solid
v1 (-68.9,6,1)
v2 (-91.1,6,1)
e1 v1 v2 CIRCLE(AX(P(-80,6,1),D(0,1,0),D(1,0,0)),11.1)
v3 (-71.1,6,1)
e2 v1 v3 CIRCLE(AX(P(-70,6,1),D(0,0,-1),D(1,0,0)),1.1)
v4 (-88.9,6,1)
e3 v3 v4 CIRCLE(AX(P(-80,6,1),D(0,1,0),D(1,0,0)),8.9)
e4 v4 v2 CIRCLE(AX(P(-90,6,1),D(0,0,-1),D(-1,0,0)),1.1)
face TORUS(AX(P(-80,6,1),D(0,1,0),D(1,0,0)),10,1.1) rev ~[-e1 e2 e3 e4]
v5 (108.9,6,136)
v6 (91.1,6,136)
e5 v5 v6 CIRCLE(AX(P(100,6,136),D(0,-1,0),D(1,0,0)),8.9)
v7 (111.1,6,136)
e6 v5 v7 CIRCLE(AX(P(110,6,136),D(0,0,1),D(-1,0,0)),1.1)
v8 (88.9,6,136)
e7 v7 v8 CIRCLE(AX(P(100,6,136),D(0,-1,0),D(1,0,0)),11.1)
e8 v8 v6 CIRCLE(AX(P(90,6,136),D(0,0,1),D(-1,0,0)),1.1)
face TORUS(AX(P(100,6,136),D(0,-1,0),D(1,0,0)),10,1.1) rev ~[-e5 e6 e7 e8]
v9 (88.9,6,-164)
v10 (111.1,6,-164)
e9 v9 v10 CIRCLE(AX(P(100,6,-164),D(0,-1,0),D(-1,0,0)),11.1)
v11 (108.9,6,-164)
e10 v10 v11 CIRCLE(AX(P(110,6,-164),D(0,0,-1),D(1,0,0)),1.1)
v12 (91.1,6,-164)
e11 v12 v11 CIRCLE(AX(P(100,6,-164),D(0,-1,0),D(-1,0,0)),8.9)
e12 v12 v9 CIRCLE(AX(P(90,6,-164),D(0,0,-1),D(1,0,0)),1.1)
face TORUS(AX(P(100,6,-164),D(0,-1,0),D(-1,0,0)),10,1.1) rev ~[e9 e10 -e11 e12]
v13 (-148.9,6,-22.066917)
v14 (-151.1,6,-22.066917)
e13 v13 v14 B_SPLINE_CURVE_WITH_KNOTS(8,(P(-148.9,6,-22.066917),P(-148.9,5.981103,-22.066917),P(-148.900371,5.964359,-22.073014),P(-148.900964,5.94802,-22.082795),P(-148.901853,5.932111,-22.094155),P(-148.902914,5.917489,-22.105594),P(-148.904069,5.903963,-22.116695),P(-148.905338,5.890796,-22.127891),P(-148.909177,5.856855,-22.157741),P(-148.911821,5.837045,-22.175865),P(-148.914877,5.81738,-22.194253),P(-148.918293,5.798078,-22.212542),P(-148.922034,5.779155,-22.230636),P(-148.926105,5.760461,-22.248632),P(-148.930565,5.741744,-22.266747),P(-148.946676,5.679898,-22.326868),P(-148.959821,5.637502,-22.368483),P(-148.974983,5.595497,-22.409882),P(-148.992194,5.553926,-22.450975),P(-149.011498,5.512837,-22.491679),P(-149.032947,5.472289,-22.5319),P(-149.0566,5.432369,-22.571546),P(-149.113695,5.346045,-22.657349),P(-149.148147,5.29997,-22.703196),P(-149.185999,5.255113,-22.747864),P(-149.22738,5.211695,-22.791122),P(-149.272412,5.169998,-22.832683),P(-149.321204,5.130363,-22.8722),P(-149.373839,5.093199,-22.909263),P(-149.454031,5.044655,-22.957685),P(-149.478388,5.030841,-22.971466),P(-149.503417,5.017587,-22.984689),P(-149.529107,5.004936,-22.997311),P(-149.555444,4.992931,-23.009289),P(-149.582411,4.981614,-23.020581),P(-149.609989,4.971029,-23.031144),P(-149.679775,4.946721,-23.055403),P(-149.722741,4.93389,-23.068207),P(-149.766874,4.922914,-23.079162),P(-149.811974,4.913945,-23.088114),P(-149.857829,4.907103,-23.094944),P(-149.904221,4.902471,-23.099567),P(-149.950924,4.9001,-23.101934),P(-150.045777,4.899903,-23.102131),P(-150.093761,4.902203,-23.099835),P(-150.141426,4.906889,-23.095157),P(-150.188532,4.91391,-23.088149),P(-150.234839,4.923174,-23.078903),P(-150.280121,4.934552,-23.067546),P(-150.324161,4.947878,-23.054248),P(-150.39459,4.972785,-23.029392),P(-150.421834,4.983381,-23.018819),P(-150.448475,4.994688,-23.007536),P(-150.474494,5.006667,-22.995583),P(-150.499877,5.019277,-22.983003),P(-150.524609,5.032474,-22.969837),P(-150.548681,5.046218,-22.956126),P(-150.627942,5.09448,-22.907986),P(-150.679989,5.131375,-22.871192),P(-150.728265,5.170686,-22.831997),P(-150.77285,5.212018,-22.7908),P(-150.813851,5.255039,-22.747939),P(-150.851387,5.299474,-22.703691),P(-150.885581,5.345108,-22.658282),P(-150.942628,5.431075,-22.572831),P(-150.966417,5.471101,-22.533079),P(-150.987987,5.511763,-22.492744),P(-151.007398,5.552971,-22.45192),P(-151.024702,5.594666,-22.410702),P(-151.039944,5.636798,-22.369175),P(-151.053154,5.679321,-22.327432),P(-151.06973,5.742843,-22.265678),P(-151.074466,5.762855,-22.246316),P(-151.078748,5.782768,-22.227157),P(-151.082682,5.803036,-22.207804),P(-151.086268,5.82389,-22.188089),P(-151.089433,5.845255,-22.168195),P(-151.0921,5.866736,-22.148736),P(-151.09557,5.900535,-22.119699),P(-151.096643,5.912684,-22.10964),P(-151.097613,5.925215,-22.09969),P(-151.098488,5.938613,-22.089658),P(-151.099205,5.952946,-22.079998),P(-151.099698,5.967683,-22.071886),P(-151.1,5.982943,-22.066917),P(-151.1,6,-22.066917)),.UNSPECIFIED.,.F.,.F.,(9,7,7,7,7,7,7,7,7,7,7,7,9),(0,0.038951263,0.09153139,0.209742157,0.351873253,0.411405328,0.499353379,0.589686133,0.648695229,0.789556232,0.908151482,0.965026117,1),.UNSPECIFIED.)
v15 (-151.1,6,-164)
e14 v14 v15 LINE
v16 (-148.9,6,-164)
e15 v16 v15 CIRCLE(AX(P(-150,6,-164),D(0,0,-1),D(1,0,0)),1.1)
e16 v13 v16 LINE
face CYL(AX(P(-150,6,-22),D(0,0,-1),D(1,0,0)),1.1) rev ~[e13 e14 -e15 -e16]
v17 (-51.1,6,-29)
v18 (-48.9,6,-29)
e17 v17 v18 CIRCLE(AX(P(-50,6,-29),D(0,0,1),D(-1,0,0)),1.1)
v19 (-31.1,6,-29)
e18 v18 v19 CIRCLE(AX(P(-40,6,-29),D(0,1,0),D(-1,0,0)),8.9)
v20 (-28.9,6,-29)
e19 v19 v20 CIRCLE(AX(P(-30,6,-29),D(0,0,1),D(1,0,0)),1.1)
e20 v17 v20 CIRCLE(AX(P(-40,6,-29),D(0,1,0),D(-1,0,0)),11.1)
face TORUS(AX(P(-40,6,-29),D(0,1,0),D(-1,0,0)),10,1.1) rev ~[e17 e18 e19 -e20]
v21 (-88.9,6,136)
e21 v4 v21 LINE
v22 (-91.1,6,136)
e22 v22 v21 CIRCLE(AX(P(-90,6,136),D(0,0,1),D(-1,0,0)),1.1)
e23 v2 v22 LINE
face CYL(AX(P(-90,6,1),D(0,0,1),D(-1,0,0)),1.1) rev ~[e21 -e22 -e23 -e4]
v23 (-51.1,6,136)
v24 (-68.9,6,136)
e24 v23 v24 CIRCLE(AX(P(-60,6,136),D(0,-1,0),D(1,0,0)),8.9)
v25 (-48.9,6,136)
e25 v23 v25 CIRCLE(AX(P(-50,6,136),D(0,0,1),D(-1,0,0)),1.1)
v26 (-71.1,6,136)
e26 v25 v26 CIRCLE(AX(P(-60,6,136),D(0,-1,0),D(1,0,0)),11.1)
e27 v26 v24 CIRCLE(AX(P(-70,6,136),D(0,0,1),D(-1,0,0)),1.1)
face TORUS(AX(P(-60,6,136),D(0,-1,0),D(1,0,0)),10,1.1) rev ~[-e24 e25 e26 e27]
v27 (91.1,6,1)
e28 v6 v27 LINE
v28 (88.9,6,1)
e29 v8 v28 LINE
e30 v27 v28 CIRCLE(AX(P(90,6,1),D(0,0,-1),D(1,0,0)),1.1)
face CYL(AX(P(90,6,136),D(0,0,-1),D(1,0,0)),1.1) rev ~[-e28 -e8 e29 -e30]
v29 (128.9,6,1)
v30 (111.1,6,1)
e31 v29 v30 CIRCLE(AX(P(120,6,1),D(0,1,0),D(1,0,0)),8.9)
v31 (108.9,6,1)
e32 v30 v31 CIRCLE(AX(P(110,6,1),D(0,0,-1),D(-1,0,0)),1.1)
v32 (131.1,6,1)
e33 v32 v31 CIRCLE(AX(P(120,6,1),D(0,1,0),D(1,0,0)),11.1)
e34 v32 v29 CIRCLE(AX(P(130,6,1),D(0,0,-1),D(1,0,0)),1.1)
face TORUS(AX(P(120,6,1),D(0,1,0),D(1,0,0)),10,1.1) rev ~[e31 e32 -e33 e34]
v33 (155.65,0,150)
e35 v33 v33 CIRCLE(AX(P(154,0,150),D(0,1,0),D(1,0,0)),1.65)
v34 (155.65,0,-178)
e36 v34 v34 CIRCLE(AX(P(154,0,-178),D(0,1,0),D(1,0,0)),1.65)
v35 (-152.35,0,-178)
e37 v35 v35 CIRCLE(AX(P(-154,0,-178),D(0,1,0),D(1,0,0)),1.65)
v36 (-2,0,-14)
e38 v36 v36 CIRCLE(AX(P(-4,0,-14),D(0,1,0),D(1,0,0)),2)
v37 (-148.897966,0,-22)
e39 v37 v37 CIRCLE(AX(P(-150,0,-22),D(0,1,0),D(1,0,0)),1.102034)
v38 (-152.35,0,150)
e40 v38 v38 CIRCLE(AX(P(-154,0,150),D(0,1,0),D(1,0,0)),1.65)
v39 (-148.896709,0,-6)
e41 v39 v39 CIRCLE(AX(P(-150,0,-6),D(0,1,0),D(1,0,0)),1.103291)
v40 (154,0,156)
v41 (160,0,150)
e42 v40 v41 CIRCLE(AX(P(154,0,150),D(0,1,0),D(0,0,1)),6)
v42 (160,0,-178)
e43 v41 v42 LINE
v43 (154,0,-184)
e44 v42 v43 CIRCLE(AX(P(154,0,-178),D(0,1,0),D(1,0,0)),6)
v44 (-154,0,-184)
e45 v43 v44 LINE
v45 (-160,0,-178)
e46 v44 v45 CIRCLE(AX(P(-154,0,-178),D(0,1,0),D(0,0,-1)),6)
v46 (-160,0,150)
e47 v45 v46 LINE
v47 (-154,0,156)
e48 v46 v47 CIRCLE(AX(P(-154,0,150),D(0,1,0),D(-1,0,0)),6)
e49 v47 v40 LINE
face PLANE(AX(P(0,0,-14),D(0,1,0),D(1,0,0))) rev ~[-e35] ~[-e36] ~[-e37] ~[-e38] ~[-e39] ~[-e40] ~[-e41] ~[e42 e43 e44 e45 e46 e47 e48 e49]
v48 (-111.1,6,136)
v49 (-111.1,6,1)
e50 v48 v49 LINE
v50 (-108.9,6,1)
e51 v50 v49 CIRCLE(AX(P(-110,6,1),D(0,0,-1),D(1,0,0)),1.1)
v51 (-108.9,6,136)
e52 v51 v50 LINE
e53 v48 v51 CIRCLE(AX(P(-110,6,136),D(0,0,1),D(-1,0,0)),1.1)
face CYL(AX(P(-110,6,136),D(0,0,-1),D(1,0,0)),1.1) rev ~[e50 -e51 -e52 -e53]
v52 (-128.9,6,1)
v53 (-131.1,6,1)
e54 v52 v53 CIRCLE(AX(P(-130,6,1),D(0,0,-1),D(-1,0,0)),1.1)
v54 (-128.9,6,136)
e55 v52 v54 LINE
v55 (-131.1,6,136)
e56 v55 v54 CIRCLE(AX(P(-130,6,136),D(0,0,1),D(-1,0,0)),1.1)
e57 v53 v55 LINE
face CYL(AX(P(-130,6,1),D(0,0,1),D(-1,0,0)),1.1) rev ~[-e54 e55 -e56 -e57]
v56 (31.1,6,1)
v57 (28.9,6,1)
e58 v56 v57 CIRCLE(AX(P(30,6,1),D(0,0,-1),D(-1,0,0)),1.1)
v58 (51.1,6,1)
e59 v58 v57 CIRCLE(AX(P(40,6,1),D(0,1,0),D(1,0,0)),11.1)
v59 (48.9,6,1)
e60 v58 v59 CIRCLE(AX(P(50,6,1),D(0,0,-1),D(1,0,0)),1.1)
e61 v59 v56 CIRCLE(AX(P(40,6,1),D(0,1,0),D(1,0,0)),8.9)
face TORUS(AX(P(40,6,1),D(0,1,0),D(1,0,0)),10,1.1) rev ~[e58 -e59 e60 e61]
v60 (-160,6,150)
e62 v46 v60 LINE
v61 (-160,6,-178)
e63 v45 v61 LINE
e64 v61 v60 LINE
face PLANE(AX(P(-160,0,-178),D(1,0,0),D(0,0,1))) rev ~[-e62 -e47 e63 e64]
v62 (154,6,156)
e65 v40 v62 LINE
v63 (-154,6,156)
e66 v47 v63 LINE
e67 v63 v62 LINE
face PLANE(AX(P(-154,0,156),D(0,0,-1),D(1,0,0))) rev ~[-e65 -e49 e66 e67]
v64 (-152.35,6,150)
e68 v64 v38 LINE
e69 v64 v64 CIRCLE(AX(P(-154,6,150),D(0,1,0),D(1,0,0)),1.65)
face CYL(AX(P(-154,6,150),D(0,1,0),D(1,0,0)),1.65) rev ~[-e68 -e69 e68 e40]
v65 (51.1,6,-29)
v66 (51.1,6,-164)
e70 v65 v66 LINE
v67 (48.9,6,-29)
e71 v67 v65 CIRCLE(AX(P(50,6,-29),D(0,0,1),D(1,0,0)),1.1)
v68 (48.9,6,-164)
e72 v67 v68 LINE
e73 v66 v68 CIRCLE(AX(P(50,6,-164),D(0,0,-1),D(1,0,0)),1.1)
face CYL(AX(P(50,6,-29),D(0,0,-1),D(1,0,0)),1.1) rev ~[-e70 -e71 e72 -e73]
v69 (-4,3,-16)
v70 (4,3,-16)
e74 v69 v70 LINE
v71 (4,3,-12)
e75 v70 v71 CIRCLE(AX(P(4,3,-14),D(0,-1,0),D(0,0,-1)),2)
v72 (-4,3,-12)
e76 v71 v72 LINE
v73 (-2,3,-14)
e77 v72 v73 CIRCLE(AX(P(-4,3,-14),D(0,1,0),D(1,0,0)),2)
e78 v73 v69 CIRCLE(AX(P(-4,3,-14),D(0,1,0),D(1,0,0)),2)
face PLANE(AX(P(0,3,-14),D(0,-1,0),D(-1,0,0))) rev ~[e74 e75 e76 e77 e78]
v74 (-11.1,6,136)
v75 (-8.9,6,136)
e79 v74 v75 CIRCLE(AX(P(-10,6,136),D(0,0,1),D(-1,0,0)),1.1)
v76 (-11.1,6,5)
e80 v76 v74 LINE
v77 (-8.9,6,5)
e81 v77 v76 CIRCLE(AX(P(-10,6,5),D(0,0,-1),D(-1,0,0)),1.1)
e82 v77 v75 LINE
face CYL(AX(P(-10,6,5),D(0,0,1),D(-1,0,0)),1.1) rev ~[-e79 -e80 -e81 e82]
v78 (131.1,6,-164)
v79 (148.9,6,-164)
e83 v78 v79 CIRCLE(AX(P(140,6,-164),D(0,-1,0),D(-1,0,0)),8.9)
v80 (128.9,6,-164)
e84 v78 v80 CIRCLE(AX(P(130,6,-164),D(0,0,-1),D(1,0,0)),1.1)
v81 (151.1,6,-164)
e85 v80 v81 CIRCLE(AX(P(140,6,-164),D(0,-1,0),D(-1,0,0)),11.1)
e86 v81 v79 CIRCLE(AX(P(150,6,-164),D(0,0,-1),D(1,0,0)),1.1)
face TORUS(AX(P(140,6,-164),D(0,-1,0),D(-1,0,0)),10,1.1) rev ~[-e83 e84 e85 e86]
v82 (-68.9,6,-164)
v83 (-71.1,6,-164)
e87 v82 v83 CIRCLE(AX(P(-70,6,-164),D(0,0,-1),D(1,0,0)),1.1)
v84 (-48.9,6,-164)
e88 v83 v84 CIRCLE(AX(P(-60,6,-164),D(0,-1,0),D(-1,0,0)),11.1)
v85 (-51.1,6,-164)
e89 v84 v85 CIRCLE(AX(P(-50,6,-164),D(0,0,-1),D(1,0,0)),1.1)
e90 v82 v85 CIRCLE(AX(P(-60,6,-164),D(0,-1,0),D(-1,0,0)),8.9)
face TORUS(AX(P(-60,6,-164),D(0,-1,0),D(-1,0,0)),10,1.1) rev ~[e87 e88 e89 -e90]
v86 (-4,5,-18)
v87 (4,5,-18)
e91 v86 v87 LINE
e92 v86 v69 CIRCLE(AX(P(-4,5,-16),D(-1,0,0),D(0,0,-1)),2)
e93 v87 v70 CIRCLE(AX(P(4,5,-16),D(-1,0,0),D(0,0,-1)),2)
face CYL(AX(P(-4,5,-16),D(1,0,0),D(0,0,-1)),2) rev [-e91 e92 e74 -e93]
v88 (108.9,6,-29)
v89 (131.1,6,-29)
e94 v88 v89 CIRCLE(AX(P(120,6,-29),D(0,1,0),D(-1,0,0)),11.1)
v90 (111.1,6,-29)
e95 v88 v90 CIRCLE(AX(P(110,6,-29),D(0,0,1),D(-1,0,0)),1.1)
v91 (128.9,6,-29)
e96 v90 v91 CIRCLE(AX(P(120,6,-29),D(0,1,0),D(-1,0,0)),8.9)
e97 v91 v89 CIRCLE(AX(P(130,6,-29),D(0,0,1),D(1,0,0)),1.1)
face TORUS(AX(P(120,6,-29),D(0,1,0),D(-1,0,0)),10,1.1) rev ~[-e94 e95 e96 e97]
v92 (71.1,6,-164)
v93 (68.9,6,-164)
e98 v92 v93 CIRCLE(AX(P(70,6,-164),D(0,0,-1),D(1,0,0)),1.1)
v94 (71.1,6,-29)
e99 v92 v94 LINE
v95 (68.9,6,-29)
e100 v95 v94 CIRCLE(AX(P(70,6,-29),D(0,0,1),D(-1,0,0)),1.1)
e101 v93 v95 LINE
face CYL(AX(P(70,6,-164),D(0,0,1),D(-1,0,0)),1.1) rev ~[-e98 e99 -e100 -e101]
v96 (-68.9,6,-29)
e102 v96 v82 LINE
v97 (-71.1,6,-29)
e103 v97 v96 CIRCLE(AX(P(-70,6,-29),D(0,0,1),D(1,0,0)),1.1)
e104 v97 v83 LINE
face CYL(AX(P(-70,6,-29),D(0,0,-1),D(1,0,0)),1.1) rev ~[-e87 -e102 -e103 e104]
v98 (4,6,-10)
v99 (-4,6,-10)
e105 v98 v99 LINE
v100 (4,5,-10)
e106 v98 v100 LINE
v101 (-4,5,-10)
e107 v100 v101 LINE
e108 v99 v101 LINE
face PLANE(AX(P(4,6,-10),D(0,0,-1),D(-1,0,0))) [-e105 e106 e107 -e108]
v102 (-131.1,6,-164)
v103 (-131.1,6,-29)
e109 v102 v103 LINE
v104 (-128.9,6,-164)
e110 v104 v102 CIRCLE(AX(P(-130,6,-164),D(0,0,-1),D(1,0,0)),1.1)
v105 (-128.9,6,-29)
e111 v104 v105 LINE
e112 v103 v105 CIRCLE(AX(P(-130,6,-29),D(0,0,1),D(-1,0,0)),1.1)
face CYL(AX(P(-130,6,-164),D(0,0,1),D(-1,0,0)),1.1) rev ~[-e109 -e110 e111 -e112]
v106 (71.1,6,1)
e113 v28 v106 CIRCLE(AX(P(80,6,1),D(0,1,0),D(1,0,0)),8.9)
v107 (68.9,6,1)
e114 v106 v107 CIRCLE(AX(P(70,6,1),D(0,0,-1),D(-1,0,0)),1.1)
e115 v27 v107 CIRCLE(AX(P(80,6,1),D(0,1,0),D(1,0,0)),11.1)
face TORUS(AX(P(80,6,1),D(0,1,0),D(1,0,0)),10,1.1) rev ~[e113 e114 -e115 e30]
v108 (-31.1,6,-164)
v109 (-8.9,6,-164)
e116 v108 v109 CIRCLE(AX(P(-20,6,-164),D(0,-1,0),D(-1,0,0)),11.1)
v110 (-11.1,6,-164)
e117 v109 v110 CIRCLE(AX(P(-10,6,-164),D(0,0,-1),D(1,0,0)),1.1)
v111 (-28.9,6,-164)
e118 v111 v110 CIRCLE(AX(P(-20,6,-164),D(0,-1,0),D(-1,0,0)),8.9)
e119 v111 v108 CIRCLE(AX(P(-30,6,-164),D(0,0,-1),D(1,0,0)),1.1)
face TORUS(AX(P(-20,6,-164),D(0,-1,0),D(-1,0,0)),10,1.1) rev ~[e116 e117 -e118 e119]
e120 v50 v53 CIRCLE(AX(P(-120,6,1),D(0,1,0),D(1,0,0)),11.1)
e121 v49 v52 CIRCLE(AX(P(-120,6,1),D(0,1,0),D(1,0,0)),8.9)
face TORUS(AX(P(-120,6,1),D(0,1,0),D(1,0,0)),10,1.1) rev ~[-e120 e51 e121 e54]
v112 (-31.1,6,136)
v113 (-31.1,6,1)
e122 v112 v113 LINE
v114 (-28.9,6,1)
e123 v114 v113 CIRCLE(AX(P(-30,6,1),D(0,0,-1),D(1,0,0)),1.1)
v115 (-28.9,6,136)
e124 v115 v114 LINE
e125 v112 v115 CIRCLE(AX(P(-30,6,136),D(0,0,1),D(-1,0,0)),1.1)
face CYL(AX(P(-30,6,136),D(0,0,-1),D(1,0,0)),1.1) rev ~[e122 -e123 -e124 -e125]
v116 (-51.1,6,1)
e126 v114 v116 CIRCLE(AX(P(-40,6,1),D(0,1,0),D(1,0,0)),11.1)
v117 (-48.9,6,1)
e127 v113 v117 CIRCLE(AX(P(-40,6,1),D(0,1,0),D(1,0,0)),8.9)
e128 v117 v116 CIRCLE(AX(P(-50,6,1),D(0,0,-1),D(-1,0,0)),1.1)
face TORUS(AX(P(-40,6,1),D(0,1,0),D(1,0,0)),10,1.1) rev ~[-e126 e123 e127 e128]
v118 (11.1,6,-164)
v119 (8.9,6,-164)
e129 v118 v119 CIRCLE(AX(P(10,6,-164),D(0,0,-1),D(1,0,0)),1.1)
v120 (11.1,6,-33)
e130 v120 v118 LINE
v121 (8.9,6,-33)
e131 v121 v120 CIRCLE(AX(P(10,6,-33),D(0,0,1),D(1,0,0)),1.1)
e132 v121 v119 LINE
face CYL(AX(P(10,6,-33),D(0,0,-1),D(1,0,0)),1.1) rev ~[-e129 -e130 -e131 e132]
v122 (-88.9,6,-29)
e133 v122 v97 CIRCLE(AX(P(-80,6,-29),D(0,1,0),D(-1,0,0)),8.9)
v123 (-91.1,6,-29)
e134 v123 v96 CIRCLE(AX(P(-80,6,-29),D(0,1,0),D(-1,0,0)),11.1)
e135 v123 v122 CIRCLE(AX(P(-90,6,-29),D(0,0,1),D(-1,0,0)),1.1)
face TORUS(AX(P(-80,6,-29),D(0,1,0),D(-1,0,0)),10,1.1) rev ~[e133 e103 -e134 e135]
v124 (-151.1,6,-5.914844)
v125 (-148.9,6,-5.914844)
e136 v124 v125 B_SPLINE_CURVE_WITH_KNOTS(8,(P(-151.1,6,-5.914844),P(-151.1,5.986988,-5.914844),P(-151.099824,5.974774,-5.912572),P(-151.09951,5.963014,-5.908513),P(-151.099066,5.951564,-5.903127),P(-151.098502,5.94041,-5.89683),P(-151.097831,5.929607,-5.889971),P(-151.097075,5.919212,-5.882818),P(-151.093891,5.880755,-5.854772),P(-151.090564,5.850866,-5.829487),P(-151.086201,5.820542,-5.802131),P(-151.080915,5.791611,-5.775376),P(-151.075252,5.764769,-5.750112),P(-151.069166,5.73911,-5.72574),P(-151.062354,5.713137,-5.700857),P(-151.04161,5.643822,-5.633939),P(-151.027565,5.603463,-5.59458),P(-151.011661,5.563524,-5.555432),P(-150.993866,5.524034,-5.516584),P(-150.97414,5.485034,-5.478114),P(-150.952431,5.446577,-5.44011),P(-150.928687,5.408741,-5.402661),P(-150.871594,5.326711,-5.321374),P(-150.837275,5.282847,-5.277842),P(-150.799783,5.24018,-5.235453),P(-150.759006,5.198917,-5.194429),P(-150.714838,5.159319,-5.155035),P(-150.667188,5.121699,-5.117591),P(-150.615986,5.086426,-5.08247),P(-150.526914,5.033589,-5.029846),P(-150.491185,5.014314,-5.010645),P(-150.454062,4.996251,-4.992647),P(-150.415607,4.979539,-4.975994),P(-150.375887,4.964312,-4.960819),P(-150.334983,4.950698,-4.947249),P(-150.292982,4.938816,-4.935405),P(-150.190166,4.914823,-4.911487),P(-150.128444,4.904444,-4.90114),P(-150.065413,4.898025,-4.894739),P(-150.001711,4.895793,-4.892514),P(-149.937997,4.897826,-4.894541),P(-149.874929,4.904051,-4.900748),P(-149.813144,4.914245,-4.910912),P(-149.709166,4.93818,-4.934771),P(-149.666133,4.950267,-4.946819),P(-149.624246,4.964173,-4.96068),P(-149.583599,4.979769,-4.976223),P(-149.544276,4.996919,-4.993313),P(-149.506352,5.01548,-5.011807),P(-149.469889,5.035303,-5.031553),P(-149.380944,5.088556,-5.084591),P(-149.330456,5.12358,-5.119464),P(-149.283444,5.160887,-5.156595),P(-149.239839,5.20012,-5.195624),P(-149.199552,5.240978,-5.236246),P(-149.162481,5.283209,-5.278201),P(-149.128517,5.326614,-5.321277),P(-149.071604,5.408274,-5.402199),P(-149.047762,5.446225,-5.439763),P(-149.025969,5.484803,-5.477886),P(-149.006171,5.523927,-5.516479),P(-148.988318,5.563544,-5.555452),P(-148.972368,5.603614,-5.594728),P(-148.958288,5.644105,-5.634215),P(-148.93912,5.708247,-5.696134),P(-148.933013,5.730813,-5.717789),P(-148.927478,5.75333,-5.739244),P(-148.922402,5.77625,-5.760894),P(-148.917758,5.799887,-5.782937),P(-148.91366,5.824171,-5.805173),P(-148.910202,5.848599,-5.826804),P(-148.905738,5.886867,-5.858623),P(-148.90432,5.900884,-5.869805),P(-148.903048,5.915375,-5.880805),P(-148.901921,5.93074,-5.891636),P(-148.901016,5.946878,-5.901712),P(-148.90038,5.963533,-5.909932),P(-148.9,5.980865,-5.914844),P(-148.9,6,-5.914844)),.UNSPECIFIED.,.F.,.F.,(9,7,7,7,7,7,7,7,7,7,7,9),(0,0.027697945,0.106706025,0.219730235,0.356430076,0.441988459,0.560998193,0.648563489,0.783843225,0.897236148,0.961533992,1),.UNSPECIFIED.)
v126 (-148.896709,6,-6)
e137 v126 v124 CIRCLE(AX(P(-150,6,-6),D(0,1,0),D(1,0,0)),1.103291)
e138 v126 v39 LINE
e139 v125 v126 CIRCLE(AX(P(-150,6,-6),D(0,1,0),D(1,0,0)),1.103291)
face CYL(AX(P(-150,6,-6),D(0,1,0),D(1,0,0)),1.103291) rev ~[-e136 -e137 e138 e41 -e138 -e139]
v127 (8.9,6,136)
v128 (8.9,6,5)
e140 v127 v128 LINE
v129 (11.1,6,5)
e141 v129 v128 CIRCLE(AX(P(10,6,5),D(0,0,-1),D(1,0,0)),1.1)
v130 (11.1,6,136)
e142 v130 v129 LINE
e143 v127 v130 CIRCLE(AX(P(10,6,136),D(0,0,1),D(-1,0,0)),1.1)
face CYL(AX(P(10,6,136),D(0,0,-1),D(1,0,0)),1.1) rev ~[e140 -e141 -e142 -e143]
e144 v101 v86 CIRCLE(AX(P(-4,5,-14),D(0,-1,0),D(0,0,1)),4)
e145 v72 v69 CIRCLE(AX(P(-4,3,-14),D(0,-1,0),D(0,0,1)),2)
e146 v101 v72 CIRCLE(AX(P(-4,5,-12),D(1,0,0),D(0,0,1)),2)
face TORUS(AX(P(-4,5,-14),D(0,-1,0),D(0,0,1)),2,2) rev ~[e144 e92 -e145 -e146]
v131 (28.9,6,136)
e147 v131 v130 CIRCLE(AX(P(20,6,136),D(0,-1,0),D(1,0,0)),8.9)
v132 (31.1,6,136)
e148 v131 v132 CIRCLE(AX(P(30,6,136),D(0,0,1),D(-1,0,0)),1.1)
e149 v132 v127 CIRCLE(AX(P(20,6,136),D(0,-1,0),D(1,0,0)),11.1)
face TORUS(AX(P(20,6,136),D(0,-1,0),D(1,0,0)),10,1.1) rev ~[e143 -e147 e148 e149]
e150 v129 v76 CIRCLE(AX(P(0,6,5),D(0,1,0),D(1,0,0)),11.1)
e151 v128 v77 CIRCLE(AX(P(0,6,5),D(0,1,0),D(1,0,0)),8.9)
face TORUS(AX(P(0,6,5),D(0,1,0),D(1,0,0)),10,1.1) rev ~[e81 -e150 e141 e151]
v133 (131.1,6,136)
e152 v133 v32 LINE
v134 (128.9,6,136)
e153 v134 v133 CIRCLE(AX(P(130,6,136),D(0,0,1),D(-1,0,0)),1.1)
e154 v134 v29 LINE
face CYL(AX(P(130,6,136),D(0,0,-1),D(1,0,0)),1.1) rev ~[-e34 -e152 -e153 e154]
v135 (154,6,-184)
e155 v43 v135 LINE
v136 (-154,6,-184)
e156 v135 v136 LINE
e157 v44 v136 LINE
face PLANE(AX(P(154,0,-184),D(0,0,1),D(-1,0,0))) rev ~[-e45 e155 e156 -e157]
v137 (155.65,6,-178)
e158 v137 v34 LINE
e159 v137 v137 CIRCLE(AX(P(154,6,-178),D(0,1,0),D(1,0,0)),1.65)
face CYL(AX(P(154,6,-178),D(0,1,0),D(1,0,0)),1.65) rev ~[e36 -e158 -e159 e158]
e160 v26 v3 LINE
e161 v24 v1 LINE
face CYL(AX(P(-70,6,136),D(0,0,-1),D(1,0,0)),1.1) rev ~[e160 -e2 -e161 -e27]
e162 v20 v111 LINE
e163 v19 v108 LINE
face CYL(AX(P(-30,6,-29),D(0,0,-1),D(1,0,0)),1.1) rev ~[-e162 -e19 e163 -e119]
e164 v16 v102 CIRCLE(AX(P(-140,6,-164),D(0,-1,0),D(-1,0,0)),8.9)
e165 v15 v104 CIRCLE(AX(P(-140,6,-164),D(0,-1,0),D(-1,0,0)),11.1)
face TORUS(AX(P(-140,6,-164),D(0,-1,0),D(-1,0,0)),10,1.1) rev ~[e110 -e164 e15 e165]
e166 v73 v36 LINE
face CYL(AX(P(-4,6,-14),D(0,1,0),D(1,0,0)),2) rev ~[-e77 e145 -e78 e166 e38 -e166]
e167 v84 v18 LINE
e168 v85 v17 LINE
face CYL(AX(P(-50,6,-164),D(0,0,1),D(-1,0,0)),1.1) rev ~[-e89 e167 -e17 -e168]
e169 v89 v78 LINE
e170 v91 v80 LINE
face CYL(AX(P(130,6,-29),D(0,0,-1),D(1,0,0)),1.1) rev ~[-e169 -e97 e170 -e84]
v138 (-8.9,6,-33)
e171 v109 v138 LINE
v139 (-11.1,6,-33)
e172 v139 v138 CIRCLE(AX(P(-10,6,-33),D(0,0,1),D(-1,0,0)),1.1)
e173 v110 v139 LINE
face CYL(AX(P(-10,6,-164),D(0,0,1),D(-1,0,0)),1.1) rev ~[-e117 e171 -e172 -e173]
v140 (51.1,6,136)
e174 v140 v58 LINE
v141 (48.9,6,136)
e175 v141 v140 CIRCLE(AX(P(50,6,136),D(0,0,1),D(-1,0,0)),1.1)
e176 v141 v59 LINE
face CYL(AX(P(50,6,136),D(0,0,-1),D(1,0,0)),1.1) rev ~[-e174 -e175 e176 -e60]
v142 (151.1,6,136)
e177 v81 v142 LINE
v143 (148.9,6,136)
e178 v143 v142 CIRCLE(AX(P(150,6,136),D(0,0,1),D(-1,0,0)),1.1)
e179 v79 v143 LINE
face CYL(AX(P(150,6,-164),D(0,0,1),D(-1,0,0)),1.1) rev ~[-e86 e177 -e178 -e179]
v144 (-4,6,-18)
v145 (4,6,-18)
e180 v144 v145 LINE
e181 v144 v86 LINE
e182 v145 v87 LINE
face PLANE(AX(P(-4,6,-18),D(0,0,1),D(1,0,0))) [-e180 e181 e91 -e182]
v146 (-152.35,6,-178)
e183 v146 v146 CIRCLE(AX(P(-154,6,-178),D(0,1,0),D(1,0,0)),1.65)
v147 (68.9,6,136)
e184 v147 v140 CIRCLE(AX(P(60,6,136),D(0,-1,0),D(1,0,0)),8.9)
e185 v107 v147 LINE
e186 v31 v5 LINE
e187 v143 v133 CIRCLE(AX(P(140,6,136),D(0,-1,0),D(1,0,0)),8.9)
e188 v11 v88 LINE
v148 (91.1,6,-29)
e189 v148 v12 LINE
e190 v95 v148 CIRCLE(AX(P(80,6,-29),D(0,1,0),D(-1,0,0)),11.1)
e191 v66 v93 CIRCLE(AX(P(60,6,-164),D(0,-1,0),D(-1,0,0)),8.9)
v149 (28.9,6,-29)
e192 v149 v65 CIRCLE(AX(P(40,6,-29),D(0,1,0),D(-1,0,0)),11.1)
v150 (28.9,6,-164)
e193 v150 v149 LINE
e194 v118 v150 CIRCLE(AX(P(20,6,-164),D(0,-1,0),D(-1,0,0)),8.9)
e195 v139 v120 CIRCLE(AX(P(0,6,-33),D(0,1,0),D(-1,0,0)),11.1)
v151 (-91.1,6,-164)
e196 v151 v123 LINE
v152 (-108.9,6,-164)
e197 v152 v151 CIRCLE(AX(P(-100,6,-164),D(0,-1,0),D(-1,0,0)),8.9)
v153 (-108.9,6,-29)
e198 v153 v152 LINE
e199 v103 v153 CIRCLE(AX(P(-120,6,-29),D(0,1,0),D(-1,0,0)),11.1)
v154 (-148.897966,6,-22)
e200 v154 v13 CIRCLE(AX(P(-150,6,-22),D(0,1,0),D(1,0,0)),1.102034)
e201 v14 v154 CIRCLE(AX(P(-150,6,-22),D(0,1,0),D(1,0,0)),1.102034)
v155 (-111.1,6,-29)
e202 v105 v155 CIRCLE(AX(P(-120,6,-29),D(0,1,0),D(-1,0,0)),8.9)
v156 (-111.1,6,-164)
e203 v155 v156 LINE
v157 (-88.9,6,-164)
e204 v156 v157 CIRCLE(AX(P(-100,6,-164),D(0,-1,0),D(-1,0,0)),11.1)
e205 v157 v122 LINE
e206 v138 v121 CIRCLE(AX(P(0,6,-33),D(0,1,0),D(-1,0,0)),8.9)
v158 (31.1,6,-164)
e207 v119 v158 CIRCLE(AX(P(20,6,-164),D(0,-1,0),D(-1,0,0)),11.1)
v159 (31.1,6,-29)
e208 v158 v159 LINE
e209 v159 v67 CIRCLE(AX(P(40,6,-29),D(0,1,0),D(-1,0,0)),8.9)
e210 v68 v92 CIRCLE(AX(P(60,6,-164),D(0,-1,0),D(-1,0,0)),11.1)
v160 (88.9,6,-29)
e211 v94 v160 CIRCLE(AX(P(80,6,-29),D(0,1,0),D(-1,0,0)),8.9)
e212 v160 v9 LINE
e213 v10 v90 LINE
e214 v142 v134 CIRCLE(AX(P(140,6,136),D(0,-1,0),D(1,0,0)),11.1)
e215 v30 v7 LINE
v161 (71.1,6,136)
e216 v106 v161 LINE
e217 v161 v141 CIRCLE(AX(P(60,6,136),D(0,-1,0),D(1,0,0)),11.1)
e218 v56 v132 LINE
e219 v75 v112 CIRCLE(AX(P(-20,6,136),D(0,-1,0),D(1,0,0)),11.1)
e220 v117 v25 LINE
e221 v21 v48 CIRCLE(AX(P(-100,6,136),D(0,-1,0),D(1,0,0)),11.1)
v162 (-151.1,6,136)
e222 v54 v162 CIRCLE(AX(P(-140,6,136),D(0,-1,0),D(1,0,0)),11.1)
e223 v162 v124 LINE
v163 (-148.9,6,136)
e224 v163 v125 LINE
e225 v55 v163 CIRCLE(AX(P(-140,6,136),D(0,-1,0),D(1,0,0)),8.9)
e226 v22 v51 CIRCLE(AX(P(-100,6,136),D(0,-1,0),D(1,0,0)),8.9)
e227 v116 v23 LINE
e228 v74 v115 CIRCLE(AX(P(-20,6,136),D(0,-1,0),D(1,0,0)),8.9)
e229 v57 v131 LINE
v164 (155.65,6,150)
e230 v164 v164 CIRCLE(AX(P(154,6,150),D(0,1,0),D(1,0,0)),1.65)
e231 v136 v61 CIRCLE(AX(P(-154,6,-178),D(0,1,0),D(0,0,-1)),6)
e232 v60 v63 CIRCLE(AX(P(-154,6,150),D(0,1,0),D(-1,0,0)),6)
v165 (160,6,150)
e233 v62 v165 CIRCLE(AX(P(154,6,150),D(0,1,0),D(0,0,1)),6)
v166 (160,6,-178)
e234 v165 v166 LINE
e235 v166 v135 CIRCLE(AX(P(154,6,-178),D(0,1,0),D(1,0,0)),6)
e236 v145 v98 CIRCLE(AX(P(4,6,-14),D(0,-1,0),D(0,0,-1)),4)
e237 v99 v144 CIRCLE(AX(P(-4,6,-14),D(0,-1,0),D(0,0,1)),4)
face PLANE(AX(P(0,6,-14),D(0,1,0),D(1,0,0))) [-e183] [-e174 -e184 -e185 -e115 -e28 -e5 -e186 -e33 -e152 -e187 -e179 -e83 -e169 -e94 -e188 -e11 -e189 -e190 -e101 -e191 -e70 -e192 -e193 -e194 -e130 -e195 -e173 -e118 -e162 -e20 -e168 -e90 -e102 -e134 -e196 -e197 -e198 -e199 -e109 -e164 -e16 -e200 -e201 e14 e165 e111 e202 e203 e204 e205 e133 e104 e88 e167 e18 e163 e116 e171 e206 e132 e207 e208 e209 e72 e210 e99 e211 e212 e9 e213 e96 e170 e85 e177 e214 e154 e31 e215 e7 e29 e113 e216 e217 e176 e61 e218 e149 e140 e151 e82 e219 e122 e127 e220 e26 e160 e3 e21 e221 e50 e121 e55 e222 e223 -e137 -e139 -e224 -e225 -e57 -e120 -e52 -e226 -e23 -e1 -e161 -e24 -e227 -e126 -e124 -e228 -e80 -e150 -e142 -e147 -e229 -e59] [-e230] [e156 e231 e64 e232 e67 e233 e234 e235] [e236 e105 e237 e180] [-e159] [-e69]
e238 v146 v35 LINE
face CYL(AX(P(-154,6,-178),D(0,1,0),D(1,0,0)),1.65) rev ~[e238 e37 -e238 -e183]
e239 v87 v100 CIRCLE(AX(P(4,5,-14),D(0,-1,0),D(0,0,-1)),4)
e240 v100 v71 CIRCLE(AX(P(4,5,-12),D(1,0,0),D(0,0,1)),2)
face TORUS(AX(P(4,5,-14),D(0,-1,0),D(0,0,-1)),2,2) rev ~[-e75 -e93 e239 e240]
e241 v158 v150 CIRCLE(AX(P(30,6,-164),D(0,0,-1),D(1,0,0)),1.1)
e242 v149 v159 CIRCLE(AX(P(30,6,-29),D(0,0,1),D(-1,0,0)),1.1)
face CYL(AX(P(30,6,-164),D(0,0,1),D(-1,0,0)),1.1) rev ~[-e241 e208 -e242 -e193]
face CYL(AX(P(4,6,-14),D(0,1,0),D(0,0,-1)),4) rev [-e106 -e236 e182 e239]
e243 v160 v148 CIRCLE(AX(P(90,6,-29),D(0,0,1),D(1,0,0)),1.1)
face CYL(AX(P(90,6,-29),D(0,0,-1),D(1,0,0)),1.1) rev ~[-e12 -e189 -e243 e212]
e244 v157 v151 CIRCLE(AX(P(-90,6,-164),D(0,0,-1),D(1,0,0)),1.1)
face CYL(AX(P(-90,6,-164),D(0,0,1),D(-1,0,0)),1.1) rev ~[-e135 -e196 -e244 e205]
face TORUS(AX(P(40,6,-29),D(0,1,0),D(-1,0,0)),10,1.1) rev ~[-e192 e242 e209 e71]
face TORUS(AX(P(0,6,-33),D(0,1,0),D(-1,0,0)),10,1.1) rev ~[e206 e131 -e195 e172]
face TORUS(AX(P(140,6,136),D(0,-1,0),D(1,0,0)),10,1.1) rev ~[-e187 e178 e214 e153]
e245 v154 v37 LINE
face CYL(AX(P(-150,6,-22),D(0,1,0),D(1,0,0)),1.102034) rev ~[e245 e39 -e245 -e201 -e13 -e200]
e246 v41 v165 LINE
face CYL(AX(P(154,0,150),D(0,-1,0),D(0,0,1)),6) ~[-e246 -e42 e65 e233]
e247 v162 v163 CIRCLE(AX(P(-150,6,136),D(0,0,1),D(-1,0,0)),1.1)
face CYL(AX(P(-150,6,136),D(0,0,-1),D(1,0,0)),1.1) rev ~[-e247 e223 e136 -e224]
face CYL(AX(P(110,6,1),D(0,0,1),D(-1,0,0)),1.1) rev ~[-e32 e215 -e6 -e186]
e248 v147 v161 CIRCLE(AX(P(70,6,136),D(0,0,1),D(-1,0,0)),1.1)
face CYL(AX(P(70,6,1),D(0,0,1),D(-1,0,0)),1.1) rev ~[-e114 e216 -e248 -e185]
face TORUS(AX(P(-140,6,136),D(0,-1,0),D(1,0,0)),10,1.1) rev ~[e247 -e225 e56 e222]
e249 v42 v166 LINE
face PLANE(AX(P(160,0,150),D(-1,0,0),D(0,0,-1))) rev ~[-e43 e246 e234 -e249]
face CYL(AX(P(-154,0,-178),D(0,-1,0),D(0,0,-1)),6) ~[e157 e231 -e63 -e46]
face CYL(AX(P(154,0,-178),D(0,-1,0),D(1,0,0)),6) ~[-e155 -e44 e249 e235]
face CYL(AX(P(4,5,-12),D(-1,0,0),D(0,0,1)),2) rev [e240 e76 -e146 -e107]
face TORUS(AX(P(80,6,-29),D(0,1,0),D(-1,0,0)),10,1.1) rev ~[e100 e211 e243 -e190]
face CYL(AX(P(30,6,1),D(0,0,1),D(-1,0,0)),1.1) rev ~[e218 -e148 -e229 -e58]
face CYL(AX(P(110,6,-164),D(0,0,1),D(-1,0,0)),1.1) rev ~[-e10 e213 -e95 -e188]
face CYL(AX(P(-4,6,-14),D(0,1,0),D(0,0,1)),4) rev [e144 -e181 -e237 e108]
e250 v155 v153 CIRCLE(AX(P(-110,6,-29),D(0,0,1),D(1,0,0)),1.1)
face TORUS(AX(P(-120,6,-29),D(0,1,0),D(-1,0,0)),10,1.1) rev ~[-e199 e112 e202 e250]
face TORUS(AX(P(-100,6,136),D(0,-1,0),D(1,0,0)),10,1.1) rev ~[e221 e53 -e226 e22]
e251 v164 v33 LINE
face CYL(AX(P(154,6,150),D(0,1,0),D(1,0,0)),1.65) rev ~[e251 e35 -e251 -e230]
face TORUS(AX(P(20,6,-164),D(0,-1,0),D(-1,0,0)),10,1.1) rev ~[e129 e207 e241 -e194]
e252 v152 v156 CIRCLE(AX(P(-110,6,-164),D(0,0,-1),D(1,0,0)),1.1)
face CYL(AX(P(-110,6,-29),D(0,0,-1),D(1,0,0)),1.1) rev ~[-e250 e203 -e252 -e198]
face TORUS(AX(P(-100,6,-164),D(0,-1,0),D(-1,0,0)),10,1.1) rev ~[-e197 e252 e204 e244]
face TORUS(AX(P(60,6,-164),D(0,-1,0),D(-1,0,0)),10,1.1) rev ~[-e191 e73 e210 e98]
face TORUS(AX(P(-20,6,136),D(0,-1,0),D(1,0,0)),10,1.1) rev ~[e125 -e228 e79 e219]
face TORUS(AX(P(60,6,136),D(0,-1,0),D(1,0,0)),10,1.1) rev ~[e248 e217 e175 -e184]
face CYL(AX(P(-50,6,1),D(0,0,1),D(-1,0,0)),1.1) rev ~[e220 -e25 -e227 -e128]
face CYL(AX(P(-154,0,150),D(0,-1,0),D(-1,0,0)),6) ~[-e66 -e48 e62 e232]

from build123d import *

# Parameters (mm, degrees)
EXTRUDE_1_DEPTH     = 6
CUT_EXTRUDE_1_DEPTH = 3
FILLET_4_R          = 2
SKETCH_3_R          = 1.1
SKETCH_5_R          = 1.65
SKETCH_5_R_2        = 2
SKETCH_5_R_3        = 1.102033545
SKETCH_5_R_4        = 1.103291211
CUT_EXTRUDE_2_DEPTH = 7


with BuildPart() as part:
    # Эскиз1 → Бобышка-Вытянуть1 (new body)
    with BuildSketch(Plane(origin=(0, 0, 0), x_dir=(1, 0, 0), z_dir=(0, 1, 0))):
        with BuildLine():
            Line((-154, -156), (154, -156))
            ThreePointArc((154, -156), (158.242640687, -154.242640687), (160, -150))
            Line((160, -150), (160, 178))
            ThreePointArc((160, 178), (158.242640687, 182.242640687), (154, 184))
            Line((154, 184), (-154, 184))
            ThreePointArc((-154, 184), (-158.242640687, 182.242640687), (-160, 178))
            Line((-160, 178), (-160, -150))
            ThreePointArc((-160, -150), (-158.242640687, -154.242640687), (-154, -156))
        make_face()
    extrude(amount=EXTRUDE_1_DEPTH)

    # Эскиз4 → Вырез-Вытянуть1 (cut)
    with BuildSketch(Plane(origin=(0, 6, 0), x_dir=(1, 0, 0), z_dir=(0, 1, 0))):
        with BuildLine():
            Line((-4, 18), (4, 18))
            ThreePointArc((4, 18), (8, 14), (4, 10))
            Line((4, 10), (-4, 10))
            ThreePointArc((-4, 10), (-8, 14), (-4, 18))
        make_face()
    extrude(amount=-CUT_EXTRUDE_1_DEPTH, mode=Mode.SUBTRACT)

    # Скругление4
    fillet_4_edges = [part.edges().sort_by_distance(p)[0] for p in [
        (-8, 3, -14),
        (0, 3, -18),
        (8, 3, -14),
        (0, 3, -10),
    ]]
    fillet(fillet_4_edges, radius=FILLET_4_R)

    # Вырез-По траектории1: sweep along a path in Эскиз2
    with BuildLine(Plane(origin=(0, 6, 0), x_dir=(1, 0, 0), z_dir=(0, 1, 0))) as sweep_1_path:
        Line((-150, 22), (-150, 29))
        Line((-150, 29), (-150, 164))
        ThreePointArc((-150, 164), (-140, 174), (-130, 164))
        Line((-130, 164), (-130, 29))
        ThreePointArc((-130, 29), (-120, 19), (-110, 29))
        Line((-110, 29), (-110, 164))
        ThreePointArc((-110, 164), (-100, 174), (-90, 164))
        Line((-90, 164), (-90, 29))
        ThreePointArc((-90, 29), (-80, 19), (-70, 29))
        Line((-70, 29), (-70, 164))
        ThreePointArc((-70, 164), (-60, 174), (-50, 164))
        Line((-50, 164), (-50, 29))
        ThreePointArc((-50, 29), (-40, 19), (-30, 29))
        Line((-30, 29), (-30, 164))
        ThreePointArc((-30, 164), (-20, 174), (-10, 164))
        Line((-10, 164), (-10, 33))
        ThreePointArc((-10, 33), (0, 23), (10, 33))
        Line((10, 33), (10, 164))
        ThreePointArc((10, 164), (20, 174), (30, 164))
        Line((30, 164), (30, 29))
        ThreePointArc((30, 29), (40, 19), (50, 29))
        Line((50, 29), (50, 164))
        ThreePointArc((50, 164), (60, 174), (70, 164))
        Line((70, 164), (70, 29))
        ThreePointArc((70, 29), (80, 19), (90, 29))
        Line((90, 29), (90, 164))
        ThreePointArc((90, 164), (100, 174), (110, 164))
        Line((110, 164), (110, 29))
        ThreePointArc((110, 29), (120, 19), (130, 29))
        Line((130, 29), (130, 164))
        ThreePointArc((130, 164), (140, 174), (150, 164))
        Line((150, 164), (150, 40.647058824))
        Line((150, 40.647058824), (150, -12.647058824))
        Line((150, -12.647058824), (150, -136))
        ThreePointArc((150, -136), (140, -146), (130, -136))
        Line((130, -136), (130, -1))
        ThreePointArc((130, -1), (120, 9), (110, -1))
        Line((110, -1), (110, -136))
        ThreePointArc((110, -136), (100, -146), (90, -136))
        Line((90, -136), (90, -1))
        ThreePointArc((90, -1), (80, 9), (70, -1))
        Line((70, -1), (70, -136))
        ThreePointArc((70, -136), (60, -146), (50, -136))
        Line((50, -136), (50, -1))
        ThreePointArc((50, -1), (40, 9), (30, -1))
        Line((30, -1), (30, -136))
        ThreePointArc((30, -136), (20, -146), (10, -136))
        Line((10, -136), (10, -5))
        ThreePointArc((10, -5), (0, 5), (-10, -5))
        Line((-10, -5), (-10, -136))
        ThreePointArc((-10, -136), (-20, -146), (-30, -136))
        Line((-30, -136), (-30, -1))
        ThreePointArc((-30, -1), (-40, 9), (-50, -1))
        Line((-50, -1), (-50, -136))
        ThreePointArc((-50, -136), (-60, -146), (-70, -136))
        Line((-70, -136), (-70, -1))
        ThreePointArc((-70, -1), (-80, 9), (-90, -1))
        Line((-90, -1), (-90, -136))
        ThreePointArc((-90, -136), (-100, -146), (-110, -136))
        Line((-110, -136), (-110, -1))
        ThreePointArc((-110, -1), (-120, 9), (-130, -1))
        Line((-130, -1), (-130, -136))
        ThreePointArc((-130, -136), (-140, -146), (-150, -136))
        Line((-150, -136), (-150, -1))
        Line((-150, -1), (-150, 6))
    # Эскиз3 → Вырез-По траектории1 (sweep, cut)
    with BuildSketch(Plane.XY.offset(-22)):
        with Locations((-150, 6)):
            Circle(SKETCH_3_R)
    sweep(path=sweep_1_path.line, mode=Mode.SUBTRACT)

    # Эскиз5 → Вырез-Вытянуть2 (cut, through all)
    with BuildSketch(Plane(origin=(0, 6, 0), x_dir=(1, 0, 0), z_dir=(0, 1, 0))):
        with Locations((-154, 178)):
            Circle(SKETCH_5_R)
        with Locations((154, 178)):
            Circle(SKETCH_5_R)
        with Locations((154, -150)):
            Circle(SKETCH_5_R)
        with Locations((-154, -150)):
            Circle(SKETCH_5_R)
        with Locations((-4, 14)):
            Circle(SKETCH_5_R_2)
        with Locations((-150, 22)):
            Circle(SKETCH_5_R_3)
        with Locations((-150, 6)):
            Circle(SKETCH_5_R_4)
    extrude(amount=-CUT_EXTRUDE_2_DEPTH, mode=Mode.SUBTRACT)


solid = part.part
